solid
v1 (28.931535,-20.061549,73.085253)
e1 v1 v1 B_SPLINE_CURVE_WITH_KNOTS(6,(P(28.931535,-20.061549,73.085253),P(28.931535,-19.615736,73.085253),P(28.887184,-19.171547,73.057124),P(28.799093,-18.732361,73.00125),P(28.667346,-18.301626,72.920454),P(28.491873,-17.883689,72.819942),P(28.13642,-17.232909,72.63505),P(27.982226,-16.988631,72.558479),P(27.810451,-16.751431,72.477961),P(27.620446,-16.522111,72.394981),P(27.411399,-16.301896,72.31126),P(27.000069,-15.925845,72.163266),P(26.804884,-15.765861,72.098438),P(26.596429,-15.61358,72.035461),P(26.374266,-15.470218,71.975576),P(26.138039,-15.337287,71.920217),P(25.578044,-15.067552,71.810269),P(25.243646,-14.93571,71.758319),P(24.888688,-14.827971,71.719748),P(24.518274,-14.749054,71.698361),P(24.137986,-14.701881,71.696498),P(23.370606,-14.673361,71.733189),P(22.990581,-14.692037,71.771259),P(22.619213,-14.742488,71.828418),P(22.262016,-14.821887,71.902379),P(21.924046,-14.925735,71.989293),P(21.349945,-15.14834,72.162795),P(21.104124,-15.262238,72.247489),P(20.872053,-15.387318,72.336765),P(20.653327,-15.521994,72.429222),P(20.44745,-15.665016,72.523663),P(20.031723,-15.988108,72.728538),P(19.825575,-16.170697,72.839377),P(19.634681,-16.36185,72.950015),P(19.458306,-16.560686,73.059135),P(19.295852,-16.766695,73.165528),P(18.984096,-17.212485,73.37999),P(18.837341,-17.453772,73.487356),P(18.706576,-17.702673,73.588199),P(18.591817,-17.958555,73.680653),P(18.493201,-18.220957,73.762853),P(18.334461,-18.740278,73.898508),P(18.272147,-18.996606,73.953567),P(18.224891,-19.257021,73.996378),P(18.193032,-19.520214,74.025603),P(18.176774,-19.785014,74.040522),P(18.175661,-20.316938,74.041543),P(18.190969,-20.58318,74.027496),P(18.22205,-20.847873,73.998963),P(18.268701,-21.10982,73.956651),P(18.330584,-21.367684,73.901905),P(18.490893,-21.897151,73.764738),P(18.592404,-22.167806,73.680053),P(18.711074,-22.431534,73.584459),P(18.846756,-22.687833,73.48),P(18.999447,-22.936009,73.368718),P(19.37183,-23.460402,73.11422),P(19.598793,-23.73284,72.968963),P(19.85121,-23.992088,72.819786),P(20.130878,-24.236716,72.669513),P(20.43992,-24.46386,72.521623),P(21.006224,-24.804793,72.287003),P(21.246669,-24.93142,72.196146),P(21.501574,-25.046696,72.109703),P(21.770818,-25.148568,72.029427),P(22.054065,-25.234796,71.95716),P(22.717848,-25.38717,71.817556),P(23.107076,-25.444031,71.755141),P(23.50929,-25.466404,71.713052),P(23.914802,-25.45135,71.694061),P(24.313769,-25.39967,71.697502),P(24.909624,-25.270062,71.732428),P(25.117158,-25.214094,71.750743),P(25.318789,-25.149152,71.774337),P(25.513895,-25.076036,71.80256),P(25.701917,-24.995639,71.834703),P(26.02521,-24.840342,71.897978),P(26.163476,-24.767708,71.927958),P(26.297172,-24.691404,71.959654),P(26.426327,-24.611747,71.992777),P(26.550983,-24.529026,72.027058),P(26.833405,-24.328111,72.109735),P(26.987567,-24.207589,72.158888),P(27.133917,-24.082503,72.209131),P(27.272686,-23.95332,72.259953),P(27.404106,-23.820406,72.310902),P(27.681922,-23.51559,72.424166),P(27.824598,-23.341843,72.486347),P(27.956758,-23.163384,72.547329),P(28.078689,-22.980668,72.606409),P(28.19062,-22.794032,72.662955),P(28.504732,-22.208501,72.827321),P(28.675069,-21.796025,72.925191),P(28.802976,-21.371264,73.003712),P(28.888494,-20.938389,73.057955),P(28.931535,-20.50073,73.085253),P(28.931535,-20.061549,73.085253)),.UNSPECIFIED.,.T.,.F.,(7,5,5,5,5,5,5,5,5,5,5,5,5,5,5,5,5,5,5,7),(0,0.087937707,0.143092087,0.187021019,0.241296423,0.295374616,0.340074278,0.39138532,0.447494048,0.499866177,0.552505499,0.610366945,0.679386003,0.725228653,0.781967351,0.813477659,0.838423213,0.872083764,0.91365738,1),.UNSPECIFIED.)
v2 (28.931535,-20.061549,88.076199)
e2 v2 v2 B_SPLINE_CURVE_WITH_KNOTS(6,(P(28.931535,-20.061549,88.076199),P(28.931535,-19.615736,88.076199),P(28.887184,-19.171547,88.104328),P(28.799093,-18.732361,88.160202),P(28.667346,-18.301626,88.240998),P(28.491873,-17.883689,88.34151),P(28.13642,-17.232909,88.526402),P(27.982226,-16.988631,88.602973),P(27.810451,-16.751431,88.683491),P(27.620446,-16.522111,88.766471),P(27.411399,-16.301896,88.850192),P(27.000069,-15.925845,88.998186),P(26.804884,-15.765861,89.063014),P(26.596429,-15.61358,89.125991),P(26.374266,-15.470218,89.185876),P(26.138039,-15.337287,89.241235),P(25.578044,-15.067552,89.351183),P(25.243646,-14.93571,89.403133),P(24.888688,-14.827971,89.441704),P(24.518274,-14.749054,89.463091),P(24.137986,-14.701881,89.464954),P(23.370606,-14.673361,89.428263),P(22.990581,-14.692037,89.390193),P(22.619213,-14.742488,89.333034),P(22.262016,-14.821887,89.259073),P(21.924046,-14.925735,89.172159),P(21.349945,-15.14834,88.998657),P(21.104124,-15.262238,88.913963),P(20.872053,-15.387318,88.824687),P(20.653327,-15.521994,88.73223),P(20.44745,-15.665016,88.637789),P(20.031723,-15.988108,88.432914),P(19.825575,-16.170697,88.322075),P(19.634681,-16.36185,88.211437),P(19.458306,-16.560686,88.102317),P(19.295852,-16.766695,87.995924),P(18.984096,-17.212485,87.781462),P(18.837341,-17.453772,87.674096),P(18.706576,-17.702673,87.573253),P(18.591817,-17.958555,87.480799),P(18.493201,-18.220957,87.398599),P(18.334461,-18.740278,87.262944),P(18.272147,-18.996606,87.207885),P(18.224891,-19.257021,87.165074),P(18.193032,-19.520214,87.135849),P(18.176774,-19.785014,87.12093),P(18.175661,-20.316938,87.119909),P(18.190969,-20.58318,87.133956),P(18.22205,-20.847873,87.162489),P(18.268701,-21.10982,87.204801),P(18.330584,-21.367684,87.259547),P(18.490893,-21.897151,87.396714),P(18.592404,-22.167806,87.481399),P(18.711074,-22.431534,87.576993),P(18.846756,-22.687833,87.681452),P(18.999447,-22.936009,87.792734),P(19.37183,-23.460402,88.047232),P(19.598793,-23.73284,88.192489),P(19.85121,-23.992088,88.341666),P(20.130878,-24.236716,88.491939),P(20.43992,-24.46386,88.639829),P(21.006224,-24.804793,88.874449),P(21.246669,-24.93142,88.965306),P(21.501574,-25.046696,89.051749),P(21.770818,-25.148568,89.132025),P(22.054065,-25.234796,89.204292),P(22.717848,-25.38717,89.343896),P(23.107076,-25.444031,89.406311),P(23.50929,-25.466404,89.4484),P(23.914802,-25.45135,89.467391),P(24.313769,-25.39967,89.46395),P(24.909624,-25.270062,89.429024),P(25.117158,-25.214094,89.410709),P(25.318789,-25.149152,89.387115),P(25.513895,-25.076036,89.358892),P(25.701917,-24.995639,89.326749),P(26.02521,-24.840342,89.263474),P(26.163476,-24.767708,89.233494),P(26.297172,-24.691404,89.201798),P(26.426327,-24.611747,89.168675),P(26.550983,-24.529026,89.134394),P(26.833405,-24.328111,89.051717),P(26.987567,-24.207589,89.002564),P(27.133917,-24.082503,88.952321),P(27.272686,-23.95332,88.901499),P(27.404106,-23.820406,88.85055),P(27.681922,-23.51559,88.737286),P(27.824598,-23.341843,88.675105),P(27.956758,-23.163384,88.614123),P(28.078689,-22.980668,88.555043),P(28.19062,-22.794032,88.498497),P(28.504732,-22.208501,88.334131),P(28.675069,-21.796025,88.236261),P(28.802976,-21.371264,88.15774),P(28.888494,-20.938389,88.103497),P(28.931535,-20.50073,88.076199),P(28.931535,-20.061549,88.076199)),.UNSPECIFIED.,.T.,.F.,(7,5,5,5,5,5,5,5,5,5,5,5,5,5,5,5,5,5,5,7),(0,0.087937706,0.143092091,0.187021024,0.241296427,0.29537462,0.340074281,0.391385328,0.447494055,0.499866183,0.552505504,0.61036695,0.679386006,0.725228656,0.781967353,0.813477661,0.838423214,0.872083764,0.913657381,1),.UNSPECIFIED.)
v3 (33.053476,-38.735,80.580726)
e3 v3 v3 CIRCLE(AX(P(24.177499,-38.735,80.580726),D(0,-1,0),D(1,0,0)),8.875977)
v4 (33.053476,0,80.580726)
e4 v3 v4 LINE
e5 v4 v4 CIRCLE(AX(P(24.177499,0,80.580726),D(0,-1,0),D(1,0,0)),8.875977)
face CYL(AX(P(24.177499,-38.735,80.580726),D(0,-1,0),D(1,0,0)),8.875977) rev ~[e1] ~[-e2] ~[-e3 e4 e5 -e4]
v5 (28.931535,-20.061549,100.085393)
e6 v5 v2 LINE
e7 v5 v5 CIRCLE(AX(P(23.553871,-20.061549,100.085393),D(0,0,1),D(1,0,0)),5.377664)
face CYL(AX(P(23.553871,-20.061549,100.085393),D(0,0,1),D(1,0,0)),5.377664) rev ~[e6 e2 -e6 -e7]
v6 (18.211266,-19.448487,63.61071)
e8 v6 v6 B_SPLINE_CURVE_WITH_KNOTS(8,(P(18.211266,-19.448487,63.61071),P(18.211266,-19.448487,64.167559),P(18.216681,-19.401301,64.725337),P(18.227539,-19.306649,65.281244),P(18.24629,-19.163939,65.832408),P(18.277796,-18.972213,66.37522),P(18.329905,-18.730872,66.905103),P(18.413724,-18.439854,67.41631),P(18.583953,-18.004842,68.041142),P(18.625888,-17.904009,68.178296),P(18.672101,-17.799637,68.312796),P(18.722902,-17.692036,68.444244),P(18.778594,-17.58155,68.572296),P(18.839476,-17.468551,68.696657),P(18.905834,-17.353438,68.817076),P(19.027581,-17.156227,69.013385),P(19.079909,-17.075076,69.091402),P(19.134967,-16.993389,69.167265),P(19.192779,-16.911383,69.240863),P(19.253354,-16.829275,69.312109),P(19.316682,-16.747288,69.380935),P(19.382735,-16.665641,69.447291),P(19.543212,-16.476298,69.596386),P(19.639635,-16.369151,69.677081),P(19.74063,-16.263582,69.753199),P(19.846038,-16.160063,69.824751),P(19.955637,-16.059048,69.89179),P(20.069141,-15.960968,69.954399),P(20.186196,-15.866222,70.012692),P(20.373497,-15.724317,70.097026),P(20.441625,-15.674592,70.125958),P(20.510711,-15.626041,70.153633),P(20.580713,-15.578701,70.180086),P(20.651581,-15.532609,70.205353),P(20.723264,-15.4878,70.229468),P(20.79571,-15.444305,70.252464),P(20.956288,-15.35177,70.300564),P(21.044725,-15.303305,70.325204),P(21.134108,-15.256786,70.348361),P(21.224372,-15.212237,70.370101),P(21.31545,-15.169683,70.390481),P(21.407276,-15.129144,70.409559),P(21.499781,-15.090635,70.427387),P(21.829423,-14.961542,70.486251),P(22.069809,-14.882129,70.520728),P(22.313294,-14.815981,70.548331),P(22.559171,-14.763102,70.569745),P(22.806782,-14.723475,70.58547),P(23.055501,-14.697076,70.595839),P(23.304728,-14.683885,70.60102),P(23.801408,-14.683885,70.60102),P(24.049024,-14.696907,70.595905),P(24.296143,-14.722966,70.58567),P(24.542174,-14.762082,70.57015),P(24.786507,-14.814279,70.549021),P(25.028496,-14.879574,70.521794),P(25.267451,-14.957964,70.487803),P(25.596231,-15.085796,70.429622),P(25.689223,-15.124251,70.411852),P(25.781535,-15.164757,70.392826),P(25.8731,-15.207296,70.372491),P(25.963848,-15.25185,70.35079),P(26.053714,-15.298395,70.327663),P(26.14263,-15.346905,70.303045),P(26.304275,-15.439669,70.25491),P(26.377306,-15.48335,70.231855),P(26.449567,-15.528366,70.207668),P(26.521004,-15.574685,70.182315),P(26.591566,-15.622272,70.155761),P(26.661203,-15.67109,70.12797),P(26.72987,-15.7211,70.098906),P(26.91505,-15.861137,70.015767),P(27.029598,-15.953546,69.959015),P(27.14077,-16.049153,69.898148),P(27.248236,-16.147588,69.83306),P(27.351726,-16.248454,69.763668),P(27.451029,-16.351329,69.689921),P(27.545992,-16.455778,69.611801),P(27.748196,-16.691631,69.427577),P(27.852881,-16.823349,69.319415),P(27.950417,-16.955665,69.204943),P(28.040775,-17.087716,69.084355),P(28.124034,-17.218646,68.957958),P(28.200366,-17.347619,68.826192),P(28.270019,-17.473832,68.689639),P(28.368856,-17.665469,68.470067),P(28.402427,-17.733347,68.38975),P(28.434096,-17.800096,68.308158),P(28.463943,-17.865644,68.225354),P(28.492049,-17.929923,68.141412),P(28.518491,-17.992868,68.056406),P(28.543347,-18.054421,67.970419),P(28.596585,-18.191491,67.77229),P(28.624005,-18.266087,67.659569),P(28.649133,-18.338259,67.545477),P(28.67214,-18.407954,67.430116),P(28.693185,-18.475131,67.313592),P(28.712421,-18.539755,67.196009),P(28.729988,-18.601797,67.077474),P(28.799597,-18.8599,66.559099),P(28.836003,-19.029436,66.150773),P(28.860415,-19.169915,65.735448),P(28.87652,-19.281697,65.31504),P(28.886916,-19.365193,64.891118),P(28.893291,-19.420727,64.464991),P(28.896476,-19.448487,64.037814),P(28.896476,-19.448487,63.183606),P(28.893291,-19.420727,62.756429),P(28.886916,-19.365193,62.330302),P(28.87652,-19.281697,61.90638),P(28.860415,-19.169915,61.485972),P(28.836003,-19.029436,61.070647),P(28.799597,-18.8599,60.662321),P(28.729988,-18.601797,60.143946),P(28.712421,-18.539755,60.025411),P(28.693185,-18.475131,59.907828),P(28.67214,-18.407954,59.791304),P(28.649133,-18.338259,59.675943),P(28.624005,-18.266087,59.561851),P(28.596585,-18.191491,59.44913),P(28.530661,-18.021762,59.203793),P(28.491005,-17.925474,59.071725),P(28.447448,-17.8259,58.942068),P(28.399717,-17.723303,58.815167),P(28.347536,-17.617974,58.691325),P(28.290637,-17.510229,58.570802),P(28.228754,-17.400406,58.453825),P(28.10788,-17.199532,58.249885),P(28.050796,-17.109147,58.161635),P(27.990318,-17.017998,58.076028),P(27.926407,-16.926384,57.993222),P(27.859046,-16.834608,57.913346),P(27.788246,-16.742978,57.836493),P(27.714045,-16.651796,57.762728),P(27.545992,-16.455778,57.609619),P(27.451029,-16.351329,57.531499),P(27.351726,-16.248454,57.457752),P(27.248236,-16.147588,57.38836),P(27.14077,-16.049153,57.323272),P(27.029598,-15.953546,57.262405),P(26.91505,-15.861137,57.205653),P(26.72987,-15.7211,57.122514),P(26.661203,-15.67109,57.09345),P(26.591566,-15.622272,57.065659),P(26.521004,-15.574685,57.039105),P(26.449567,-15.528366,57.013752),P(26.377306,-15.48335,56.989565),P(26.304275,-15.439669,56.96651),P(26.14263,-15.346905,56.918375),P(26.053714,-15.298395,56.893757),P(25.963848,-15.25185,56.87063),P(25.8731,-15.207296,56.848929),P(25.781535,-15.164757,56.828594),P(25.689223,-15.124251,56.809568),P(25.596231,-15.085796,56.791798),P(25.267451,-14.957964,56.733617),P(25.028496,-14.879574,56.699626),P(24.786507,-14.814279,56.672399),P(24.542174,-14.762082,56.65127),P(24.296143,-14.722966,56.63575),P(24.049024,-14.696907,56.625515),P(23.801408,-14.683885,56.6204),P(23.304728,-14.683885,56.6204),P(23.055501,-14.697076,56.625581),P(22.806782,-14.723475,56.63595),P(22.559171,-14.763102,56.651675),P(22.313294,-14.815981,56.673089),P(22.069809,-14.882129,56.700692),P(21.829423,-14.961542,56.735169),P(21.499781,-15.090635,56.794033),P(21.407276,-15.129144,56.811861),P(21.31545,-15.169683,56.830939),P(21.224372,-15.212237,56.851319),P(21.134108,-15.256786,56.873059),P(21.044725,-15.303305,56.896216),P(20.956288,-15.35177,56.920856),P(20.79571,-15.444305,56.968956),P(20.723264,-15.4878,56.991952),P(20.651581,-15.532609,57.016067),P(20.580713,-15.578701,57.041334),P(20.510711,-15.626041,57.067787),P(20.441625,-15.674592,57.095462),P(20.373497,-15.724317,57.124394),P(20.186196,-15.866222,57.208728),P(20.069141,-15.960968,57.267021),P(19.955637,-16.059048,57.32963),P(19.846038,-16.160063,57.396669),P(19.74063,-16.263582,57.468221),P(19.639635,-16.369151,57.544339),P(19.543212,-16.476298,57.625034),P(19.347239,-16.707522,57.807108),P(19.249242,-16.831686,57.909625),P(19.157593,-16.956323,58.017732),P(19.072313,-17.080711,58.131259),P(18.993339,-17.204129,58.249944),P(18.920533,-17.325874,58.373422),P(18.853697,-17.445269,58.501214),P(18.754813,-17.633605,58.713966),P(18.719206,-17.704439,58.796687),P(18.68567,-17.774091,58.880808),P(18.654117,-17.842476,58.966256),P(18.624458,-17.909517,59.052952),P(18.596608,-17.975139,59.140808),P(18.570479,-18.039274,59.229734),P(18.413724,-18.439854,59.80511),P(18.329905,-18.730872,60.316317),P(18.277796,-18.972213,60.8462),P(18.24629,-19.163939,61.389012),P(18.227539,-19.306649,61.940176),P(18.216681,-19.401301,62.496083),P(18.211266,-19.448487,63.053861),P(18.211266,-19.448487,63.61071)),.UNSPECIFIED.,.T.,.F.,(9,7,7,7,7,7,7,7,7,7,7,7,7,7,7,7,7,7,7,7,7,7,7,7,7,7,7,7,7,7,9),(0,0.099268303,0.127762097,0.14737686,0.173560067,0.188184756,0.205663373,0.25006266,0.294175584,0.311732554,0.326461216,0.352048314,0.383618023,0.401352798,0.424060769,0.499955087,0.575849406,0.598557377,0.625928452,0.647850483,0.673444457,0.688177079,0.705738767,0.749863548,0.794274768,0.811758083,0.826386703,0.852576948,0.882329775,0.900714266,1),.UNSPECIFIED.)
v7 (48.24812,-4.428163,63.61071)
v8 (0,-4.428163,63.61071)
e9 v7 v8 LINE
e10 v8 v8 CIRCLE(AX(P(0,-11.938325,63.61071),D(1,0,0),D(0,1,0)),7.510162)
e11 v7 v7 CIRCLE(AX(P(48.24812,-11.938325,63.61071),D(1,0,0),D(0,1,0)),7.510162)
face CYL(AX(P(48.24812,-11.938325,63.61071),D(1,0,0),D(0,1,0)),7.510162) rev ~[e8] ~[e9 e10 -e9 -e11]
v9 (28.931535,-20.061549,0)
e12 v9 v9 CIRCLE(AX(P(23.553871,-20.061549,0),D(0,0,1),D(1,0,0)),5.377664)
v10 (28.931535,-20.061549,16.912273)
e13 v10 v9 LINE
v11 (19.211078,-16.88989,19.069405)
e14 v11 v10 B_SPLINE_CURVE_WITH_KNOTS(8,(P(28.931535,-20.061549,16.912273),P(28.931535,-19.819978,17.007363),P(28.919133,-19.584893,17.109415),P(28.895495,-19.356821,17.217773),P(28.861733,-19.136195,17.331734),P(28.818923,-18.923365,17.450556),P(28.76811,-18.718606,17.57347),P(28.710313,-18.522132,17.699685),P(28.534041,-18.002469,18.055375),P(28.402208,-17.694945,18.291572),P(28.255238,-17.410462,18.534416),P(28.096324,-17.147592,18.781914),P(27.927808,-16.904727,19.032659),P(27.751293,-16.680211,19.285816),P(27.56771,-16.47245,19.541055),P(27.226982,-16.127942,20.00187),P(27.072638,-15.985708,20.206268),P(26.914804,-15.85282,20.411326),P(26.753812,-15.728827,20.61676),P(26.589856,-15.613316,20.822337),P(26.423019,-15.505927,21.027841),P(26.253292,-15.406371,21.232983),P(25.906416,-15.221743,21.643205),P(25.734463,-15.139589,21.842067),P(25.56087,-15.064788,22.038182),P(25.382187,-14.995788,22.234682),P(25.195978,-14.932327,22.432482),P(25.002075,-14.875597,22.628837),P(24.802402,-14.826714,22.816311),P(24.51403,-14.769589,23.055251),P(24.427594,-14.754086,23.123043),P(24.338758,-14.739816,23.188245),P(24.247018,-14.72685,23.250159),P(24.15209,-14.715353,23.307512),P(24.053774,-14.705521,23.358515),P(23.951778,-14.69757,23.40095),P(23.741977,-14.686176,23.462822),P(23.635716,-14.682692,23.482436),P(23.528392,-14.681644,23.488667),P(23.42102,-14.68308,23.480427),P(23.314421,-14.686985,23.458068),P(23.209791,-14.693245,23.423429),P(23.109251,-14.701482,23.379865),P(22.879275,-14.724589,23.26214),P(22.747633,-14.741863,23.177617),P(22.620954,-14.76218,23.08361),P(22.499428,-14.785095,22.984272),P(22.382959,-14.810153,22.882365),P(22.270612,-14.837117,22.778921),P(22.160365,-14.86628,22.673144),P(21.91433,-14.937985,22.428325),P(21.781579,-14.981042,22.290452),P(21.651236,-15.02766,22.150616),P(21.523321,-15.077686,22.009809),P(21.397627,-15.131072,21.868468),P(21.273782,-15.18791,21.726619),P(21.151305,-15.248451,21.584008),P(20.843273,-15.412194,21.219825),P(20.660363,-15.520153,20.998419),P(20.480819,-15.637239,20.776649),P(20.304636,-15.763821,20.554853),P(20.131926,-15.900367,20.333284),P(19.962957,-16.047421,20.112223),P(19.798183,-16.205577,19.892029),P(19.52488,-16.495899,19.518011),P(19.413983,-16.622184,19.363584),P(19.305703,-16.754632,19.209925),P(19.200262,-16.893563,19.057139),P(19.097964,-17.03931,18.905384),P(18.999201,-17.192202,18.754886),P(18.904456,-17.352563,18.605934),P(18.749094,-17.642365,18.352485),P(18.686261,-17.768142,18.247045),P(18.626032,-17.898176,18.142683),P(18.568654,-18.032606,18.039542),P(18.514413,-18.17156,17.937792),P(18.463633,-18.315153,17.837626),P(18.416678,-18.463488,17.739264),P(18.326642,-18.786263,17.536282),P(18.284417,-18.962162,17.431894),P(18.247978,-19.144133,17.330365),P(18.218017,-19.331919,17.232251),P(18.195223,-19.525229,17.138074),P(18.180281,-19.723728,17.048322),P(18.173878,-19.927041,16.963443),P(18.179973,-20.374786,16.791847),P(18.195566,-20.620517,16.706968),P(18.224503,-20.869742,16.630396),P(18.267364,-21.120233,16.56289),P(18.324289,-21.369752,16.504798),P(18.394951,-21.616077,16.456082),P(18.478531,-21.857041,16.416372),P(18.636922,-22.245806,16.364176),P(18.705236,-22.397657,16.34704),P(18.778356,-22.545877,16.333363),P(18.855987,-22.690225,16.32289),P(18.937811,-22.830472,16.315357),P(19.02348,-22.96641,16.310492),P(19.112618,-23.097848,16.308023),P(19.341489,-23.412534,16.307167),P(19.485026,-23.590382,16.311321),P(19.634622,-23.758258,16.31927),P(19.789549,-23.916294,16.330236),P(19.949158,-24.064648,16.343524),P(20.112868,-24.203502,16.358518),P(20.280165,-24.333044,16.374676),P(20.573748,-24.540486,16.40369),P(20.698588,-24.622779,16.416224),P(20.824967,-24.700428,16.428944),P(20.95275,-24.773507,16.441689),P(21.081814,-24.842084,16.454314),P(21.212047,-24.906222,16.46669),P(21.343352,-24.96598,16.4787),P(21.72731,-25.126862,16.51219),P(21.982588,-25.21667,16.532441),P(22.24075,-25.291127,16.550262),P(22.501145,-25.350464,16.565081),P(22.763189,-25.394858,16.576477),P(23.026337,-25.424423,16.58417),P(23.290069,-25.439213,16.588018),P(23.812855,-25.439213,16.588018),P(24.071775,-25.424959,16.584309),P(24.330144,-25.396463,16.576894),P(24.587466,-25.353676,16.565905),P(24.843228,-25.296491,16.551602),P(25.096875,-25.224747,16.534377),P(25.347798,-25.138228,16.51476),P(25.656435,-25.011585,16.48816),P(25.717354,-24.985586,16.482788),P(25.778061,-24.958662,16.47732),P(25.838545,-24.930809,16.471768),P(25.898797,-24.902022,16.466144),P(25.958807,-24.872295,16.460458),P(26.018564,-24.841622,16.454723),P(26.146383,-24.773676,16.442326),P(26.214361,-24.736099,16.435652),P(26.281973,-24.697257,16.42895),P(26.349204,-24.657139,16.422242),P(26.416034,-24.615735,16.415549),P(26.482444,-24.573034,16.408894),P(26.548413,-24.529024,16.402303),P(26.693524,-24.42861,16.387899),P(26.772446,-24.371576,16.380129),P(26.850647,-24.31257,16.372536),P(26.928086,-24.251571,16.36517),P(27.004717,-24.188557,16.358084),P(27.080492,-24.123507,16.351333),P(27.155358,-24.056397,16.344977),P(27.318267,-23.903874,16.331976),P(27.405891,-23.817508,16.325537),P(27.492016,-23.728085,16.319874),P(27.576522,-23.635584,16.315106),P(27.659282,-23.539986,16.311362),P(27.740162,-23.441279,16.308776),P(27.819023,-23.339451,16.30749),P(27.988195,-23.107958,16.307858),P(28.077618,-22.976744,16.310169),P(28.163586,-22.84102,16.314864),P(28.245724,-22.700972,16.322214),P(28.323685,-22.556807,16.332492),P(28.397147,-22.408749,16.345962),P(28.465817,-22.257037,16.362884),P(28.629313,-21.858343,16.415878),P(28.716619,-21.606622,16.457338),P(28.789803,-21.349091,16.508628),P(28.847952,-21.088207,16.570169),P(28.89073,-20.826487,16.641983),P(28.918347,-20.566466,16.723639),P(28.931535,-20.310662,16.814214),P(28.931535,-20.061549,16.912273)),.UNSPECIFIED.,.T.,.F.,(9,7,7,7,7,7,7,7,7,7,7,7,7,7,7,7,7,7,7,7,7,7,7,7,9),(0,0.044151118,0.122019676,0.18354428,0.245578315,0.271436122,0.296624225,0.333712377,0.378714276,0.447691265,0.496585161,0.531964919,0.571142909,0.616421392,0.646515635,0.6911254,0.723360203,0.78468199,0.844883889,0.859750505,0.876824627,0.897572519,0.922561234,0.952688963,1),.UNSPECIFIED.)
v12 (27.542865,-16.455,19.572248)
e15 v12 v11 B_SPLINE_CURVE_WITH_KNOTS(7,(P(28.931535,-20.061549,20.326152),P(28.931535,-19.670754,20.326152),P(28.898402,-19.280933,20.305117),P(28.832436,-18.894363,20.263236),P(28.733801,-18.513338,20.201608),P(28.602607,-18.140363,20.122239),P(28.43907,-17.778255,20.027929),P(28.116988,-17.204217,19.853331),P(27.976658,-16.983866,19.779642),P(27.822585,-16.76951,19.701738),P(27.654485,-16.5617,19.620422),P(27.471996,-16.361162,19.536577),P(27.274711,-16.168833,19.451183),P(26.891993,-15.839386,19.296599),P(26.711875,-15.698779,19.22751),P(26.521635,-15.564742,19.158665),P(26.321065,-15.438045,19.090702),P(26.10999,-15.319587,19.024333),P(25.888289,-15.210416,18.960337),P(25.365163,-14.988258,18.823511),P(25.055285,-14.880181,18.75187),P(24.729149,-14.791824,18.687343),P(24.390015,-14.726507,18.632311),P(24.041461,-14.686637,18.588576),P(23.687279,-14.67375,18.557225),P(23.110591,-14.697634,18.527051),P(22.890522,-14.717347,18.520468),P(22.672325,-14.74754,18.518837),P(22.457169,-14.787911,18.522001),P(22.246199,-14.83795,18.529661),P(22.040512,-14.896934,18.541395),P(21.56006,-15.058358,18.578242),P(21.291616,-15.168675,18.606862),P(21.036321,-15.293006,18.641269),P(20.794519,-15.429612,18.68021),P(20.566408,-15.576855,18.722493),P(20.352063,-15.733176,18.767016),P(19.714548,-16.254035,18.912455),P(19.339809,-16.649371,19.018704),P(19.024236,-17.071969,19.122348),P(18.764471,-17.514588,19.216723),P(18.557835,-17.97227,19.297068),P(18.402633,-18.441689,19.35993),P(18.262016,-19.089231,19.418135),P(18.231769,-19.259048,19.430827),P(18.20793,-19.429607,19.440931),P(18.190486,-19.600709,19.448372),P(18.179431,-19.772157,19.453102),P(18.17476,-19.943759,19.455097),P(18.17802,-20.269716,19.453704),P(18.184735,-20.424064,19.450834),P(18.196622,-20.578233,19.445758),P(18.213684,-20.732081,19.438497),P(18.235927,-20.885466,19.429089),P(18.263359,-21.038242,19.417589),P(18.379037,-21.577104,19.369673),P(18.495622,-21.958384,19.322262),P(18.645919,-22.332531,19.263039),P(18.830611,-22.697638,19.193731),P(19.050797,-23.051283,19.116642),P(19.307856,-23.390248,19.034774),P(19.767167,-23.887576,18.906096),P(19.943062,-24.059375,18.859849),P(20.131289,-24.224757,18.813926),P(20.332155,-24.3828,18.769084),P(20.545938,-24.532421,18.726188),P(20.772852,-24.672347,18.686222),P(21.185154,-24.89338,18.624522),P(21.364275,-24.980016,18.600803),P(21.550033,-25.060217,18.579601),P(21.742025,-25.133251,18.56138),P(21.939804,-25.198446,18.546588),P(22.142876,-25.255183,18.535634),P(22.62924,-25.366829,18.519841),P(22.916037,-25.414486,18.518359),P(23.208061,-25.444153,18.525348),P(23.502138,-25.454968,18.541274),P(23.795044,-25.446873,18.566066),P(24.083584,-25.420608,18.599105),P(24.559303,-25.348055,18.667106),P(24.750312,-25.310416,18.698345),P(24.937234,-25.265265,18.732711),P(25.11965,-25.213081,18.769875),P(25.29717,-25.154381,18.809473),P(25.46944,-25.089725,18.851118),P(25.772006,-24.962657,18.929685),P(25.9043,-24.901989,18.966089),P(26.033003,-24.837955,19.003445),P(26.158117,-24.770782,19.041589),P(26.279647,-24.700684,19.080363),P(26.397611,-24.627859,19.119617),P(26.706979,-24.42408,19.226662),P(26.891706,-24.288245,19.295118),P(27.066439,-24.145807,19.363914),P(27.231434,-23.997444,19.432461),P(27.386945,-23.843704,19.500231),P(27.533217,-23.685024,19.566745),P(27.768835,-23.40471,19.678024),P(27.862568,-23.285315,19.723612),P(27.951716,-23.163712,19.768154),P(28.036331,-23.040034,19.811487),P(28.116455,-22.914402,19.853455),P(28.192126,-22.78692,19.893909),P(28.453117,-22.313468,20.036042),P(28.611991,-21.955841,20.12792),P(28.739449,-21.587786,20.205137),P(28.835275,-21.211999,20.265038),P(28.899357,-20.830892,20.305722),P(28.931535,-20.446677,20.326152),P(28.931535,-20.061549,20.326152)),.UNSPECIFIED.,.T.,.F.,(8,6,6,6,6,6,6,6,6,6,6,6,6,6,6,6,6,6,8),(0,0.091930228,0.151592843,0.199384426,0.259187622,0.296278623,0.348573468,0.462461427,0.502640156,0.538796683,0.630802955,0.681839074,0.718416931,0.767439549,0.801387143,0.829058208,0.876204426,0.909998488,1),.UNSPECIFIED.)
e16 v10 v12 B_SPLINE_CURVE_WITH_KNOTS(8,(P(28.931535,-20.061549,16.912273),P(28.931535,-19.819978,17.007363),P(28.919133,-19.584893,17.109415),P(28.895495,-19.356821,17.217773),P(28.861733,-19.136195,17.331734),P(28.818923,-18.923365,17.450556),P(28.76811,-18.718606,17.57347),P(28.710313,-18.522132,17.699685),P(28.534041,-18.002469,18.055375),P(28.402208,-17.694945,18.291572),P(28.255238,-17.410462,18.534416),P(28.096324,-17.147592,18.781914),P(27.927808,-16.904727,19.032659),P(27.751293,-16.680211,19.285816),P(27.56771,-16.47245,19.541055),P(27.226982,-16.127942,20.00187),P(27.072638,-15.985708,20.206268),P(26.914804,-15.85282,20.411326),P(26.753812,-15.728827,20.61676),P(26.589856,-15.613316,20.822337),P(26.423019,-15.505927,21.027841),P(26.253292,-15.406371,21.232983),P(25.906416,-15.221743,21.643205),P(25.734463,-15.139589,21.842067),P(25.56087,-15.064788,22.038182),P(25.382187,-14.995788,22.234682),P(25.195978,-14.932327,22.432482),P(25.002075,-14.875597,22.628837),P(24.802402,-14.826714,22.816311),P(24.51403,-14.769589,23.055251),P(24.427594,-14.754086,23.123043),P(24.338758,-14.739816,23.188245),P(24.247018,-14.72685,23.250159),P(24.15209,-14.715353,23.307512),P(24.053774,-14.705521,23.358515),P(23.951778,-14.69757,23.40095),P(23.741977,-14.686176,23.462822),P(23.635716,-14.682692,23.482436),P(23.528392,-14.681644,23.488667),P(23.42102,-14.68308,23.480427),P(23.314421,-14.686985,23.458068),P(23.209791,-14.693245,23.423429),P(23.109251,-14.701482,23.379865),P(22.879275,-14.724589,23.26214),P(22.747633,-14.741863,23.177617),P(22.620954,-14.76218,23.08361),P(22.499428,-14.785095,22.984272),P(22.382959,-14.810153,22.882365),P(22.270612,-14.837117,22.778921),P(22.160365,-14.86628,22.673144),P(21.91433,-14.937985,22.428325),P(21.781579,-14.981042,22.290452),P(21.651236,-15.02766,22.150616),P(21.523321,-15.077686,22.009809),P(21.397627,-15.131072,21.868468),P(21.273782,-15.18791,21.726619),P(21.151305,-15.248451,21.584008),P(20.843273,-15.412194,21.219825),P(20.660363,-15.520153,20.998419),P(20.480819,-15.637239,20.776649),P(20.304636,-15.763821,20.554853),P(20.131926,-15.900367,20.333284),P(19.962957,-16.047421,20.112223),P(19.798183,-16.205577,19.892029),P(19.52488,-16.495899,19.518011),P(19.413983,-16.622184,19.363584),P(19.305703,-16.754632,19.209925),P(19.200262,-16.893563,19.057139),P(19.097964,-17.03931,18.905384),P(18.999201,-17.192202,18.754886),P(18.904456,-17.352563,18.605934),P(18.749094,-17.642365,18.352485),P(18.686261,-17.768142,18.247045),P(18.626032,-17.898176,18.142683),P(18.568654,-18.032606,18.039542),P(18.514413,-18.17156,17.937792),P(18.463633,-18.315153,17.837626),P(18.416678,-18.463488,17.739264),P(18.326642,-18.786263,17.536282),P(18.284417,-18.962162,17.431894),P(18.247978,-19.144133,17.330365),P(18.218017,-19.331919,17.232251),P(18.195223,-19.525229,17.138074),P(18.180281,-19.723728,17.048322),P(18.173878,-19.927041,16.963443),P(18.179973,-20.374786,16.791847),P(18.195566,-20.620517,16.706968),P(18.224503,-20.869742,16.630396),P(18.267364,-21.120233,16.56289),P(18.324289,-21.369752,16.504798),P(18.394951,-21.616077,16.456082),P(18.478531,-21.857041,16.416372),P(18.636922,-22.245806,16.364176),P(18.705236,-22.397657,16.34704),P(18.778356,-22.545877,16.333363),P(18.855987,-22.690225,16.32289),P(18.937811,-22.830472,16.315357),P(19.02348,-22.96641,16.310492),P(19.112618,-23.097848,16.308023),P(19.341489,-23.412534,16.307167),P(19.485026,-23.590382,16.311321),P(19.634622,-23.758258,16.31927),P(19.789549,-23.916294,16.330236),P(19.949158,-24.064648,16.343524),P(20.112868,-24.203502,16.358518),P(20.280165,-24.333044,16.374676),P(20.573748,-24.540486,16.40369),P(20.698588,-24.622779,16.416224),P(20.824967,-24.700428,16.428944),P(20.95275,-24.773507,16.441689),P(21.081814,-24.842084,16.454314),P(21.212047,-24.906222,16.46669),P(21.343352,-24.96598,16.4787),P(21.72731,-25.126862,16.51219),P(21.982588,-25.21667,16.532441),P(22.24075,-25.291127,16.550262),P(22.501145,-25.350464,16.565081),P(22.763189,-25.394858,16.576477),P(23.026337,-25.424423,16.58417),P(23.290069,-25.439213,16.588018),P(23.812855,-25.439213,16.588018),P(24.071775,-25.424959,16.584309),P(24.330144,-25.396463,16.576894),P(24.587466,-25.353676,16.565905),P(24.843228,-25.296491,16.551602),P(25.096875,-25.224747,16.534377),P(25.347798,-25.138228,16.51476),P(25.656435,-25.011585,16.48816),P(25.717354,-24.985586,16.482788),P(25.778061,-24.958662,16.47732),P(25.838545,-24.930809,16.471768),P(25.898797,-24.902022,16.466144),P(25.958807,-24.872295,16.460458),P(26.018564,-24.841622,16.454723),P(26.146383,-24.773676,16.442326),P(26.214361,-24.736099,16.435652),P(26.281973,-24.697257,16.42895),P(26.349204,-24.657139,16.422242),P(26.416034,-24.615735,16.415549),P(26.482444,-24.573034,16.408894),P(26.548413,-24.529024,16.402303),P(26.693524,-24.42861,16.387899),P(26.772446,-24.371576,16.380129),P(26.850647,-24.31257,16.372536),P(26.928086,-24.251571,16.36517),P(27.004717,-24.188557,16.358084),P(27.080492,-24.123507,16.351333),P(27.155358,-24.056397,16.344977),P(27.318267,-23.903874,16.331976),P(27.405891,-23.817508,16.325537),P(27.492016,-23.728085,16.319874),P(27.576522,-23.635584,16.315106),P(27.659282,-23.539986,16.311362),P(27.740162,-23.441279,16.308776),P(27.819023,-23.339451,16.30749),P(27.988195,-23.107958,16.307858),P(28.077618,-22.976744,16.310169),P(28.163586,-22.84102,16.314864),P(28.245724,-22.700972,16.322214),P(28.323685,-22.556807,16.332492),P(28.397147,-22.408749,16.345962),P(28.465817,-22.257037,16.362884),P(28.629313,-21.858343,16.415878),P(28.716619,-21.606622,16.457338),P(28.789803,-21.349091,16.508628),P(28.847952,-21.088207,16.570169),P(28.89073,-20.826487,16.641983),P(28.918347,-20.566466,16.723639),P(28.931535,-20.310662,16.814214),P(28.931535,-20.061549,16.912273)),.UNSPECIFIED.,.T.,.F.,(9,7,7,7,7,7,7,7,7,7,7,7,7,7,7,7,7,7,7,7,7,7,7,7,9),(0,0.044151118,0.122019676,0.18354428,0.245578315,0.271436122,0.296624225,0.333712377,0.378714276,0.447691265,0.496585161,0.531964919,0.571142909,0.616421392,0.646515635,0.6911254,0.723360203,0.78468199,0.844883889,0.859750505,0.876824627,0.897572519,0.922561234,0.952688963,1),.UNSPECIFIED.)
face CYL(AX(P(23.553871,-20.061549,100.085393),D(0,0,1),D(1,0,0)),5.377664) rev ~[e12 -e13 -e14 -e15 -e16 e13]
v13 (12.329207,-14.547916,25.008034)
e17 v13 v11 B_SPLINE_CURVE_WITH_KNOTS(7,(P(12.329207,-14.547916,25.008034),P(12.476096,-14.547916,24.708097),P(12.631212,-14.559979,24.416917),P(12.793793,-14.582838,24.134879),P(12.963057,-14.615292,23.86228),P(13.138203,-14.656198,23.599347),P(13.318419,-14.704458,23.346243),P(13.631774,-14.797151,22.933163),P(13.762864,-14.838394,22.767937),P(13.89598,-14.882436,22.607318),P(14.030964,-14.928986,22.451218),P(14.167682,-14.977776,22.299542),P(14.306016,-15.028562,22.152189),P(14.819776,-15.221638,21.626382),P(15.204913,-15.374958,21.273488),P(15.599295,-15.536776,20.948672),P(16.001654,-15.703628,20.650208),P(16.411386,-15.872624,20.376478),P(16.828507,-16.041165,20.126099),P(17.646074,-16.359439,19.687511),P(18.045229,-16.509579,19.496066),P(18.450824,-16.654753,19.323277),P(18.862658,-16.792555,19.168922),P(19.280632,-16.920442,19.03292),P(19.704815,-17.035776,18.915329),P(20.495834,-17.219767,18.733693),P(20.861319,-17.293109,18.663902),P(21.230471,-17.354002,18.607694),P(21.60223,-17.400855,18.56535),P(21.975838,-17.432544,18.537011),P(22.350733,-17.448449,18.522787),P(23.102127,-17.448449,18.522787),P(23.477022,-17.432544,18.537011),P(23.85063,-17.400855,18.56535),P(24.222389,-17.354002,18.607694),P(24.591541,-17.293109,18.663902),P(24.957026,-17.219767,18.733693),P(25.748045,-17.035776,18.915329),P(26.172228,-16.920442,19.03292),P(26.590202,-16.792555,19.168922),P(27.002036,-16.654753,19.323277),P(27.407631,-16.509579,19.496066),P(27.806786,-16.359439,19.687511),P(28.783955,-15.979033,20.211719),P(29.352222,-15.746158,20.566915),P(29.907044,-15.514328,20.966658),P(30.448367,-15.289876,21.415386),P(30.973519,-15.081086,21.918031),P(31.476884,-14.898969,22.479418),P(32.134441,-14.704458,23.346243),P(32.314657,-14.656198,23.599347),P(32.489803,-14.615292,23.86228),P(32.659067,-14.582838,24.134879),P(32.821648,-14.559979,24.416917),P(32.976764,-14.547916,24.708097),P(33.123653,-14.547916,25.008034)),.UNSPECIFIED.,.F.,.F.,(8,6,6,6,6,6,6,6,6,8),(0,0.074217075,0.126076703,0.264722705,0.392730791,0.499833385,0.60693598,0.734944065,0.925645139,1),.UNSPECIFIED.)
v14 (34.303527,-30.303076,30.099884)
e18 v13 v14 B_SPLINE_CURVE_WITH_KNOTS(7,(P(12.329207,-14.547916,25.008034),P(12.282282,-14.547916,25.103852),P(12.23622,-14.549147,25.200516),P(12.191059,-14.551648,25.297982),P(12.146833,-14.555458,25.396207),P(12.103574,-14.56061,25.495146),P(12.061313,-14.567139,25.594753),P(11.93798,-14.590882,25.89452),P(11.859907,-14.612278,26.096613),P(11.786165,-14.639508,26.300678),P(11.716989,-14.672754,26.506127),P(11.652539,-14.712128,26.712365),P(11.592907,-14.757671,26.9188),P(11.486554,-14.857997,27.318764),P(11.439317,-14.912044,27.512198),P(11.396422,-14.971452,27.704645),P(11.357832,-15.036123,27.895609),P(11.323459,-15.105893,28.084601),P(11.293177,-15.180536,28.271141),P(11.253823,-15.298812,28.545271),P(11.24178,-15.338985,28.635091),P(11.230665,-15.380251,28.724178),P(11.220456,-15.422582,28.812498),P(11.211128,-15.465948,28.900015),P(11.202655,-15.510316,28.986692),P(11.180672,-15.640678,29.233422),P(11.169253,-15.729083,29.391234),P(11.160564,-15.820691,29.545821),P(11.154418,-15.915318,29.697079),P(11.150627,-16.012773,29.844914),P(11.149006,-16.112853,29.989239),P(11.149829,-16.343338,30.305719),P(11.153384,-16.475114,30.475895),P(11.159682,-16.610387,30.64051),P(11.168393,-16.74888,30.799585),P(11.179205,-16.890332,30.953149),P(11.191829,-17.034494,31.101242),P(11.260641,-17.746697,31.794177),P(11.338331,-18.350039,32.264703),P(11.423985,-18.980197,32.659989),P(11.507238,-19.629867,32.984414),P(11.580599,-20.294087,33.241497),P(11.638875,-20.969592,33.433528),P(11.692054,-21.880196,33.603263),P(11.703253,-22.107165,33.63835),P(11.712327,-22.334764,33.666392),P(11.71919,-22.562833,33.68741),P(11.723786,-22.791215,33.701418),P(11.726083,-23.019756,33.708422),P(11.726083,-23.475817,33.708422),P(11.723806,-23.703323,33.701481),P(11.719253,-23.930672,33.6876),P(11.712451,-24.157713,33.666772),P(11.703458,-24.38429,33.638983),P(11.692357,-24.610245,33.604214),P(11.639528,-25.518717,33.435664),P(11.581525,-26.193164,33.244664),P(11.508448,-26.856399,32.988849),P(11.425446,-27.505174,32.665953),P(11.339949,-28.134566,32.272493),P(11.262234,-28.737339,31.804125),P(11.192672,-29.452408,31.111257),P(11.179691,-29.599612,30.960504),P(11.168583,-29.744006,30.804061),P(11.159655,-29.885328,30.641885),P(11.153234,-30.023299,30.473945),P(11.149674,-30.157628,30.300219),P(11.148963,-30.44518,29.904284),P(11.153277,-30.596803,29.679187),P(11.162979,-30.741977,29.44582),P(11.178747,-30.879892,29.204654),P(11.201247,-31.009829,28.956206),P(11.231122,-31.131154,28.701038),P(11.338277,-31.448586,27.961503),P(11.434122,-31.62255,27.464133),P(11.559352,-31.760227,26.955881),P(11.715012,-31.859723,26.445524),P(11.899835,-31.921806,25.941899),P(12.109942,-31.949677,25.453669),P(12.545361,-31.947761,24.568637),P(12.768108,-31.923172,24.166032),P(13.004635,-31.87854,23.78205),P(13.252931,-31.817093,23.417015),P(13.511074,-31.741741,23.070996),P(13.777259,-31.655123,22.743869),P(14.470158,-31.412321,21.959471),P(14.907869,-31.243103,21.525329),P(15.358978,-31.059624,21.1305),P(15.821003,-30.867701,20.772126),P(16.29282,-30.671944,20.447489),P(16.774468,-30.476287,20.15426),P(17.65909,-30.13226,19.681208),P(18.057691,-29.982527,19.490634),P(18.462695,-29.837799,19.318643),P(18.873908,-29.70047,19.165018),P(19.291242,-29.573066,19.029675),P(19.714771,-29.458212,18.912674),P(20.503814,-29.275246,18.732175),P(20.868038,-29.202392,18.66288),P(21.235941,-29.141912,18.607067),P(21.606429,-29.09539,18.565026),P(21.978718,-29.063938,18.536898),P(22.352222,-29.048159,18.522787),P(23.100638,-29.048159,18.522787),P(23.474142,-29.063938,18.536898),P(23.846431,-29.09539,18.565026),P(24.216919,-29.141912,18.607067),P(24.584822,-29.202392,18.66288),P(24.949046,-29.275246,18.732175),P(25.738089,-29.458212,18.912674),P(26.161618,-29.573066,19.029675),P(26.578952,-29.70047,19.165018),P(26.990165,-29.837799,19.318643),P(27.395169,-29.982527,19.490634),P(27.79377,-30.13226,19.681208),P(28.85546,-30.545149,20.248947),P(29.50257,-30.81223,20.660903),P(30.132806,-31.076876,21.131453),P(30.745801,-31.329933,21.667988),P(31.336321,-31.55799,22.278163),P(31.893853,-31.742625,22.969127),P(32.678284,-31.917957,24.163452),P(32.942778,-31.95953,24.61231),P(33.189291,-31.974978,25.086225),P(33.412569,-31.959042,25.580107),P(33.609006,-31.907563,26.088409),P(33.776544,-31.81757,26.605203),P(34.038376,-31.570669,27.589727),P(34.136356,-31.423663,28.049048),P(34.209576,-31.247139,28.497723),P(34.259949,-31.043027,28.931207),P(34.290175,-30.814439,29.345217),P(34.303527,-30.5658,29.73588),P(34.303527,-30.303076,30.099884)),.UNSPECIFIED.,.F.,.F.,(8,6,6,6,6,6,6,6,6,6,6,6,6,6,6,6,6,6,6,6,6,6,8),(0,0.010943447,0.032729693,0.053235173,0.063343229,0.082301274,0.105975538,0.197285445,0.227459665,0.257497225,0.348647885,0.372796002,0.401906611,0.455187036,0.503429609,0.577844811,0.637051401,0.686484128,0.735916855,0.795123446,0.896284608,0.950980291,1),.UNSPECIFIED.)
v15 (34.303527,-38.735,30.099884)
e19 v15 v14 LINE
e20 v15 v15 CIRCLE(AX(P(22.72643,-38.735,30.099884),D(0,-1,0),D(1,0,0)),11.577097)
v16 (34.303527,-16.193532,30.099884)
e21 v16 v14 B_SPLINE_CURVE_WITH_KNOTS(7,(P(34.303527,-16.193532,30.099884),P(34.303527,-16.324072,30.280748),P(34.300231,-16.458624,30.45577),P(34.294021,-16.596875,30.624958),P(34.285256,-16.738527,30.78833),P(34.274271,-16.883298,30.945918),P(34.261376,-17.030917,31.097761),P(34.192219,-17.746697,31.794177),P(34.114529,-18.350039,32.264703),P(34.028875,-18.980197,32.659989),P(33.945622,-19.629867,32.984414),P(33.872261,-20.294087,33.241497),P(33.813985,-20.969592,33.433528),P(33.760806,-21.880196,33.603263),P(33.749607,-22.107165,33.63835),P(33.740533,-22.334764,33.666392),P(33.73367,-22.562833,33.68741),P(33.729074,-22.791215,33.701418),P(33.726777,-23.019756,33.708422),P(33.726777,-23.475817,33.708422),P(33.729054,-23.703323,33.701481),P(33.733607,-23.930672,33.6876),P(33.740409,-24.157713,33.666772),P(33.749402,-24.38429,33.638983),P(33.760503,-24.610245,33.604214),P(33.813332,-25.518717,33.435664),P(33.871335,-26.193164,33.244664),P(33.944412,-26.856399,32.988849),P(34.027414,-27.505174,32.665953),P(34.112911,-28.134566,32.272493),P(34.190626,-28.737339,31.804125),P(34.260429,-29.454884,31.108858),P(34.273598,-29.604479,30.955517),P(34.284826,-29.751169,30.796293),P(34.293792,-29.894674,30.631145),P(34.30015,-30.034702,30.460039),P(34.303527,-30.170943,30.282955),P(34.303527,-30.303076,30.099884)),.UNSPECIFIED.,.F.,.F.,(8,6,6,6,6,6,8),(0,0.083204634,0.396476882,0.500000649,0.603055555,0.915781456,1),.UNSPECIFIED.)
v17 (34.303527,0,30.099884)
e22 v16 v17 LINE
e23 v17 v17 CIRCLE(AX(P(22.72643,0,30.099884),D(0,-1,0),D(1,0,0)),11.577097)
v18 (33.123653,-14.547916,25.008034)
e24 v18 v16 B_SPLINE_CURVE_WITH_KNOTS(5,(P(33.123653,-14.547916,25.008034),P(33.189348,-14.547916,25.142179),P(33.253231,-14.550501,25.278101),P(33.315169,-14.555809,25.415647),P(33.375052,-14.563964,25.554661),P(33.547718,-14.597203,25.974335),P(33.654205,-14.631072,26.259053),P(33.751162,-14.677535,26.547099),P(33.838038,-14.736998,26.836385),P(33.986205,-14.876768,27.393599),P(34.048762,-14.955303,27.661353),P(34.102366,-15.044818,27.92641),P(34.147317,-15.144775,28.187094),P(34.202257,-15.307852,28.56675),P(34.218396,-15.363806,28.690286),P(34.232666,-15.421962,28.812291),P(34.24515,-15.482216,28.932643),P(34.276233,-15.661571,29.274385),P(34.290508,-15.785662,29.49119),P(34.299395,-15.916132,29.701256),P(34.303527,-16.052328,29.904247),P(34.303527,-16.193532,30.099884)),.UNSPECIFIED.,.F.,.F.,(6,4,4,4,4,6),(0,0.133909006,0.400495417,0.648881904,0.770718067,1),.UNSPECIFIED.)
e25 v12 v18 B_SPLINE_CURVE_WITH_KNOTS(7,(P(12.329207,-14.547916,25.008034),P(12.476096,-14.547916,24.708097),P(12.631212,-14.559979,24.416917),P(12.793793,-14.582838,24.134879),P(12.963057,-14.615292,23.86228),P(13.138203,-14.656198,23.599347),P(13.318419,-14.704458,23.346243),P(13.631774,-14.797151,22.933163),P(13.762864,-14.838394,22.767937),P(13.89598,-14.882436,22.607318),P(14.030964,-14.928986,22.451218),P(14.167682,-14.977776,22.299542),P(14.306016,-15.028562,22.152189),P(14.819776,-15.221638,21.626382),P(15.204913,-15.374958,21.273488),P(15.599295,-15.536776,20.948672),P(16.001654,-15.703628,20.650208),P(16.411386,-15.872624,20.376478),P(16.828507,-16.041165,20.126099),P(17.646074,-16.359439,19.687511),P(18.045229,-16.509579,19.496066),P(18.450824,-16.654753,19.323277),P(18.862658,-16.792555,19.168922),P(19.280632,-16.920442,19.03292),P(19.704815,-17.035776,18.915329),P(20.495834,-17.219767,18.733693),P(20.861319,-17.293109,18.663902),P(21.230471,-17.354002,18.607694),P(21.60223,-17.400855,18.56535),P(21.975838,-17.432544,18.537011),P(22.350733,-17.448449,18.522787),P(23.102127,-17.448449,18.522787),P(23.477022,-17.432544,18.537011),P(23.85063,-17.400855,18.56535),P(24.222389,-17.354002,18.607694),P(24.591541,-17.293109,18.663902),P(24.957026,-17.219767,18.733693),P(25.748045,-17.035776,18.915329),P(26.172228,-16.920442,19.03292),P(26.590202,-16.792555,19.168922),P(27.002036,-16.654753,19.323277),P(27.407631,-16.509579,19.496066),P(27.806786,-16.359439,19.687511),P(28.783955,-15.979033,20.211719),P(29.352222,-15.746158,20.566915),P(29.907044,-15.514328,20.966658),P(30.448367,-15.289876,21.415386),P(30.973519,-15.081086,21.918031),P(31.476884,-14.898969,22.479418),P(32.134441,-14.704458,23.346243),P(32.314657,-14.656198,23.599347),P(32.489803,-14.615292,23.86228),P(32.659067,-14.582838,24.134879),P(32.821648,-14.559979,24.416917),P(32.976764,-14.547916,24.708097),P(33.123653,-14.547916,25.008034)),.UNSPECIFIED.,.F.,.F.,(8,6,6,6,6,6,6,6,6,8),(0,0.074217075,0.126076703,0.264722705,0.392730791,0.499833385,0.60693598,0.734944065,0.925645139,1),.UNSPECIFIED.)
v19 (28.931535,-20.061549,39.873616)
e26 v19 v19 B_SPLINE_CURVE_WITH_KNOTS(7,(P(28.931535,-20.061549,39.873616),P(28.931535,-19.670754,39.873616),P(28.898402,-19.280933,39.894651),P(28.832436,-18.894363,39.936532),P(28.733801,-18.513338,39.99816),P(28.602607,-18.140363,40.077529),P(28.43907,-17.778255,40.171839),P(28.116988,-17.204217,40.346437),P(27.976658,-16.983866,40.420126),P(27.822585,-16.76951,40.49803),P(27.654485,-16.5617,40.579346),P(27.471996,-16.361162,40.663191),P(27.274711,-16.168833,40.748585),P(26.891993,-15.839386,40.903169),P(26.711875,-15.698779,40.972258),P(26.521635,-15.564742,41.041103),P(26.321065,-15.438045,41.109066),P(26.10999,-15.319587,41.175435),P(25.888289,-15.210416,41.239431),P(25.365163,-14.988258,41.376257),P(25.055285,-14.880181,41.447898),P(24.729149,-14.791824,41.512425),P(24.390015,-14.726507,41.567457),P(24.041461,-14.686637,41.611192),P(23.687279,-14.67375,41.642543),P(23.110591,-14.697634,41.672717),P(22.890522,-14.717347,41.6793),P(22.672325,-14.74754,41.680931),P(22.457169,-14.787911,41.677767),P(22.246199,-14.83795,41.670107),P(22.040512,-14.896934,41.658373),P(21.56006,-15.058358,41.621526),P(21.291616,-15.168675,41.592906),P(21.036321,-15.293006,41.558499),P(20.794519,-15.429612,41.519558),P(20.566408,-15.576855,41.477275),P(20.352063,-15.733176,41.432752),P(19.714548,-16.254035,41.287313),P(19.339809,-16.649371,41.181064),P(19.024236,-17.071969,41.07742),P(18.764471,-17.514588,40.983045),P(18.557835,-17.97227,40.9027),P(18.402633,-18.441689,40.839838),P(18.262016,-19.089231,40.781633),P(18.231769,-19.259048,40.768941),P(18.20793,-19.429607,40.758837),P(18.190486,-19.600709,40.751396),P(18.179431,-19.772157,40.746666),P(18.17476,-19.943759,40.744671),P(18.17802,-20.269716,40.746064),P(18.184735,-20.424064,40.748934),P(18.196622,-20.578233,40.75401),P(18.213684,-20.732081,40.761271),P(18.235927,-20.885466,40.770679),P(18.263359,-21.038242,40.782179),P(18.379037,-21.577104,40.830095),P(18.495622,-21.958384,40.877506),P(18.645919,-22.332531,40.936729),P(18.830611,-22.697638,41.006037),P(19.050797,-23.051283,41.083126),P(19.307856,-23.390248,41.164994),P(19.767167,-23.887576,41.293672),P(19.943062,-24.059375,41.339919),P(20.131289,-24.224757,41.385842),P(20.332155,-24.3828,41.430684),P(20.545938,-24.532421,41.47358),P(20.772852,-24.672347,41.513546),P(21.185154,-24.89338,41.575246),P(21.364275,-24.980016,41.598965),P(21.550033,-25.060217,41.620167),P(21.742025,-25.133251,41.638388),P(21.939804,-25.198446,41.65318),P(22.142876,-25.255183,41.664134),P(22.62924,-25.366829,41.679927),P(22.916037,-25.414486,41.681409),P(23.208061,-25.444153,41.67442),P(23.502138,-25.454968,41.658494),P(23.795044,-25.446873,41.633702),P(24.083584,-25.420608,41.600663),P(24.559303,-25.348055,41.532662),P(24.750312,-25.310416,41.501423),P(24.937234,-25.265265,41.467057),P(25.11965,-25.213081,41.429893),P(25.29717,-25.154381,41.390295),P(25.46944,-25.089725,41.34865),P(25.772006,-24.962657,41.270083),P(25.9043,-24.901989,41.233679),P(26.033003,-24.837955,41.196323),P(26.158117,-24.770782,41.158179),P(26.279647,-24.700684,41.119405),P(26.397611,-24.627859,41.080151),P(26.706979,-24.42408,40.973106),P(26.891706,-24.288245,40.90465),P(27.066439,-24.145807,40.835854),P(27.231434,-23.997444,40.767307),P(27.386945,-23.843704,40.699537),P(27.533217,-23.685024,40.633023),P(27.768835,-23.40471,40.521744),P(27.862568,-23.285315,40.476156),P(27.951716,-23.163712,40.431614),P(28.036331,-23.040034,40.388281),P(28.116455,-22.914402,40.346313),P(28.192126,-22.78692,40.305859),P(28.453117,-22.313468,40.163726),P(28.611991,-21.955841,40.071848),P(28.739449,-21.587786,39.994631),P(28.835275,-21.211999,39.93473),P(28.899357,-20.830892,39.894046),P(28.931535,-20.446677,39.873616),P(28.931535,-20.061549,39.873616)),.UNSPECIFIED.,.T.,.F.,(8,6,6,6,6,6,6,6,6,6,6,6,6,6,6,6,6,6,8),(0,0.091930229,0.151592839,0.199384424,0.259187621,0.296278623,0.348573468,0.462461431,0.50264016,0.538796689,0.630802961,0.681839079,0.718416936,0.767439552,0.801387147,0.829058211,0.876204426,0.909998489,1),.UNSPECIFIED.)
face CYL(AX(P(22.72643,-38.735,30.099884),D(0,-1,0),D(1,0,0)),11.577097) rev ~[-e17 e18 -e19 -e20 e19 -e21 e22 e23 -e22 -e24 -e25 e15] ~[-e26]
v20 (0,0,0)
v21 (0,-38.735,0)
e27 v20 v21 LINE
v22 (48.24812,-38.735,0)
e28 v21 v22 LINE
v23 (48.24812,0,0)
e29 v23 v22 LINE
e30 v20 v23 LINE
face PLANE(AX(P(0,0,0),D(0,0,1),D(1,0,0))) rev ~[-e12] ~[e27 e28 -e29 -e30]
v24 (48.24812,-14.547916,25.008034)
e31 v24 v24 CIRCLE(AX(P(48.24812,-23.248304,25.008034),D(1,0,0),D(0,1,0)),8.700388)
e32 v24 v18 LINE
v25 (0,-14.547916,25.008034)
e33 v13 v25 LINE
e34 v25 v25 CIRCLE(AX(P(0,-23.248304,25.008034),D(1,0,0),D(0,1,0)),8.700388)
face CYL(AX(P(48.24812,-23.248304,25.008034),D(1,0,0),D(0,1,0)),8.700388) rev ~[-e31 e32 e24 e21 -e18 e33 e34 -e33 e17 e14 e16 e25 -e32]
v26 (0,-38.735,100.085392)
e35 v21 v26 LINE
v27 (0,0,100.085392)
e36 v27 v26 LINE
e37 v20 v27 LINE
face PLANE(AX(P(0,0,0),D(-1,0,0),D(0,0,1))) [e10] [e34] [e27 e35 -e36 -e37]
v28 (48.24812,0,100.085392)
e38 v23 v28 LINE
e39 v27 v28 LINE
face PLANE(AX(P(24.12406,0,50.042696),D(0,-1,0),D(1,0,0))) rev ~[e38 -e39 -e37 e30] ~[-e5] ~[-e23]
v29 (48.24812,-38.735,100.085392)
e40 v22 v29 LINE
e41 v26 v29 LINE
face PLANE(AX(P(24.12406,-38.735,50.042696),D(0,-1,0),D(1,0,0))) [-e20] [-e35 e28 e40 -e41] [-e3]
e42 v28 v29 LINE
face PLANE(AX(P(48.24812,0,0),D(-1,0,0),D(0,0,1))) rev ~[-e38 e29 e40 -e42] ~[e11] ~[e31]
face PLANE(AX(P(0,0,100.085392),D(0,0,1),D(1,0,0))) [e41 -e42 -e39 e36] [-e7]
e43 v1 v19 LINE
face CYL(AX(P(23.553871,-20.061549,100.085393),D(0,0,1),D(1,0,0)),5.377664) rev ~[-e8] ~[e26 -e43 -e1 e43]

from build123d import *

# Parameters (mm, degrees)
F0_W     = 48.24812
F0_H     = 100.085393
F1_DEPTH = 38.735
F2_R     = 8.875977
F3_DEPTH = 72.39
F4_R     = 11.577097
F5_DEPTH = 81.915
F6_R     = 7.510162
F6_R_2   = 8.700388
F7_DEPTH = 74.295
F8_R     = 5.377664
F9_DEPTH = 137.795


with BuildPart() as f1:
    # F0 (on Front) → F1 (new body)
    with BuildSketch(Plane.XZ):
        with Locations((24.12406, 50.042696)):
            Rectangle(F0_W, F0_H)
    extrude(amount=F1_DEPTH)

    # F2 (on face) → F3 (cut)
    with BuildSketch(Plane.XZ.offset(38.735)):
        with Locations((24.177499, 80.580726)):
            Circle(F2_R)
    extrude(amount=-F3_DEPTH, mode=Mode.SUBTRACT)

    # F4 (on face) → F5 (cut)
    with BuildSketch(Plane.XZ.offset(38.735)):
        with Locations((22.72643, 30.099884)):
            Circle(F4_R)
    extrude(amount=-F5_DEPTH, mode=Mode.SUBTRACT)

    # F6 (on face) → F7 (cut)
    with BuildSketch(Plane.YZ.offset(48.24812)):
        with Locations((-11.938325, 63.61071)):
            Circle(F6_R)
        with Locations((-23.248304, 25.008034)):
            Circle(F6_R_2)
    extrude(amount=-F7_DEPTH, mode=Mode.SUBTRACT)

    # F8 (on face) → F9 (cut)
    with BuildSketch(Plane.XY.offset(100.085393)):
        with Locations((23.553871, -20.061549)):
            Circle(F8_R)
    extrude(amount=-F9_DEPTH, mode=Mode.SUBTRACT)


solid = f1.part
